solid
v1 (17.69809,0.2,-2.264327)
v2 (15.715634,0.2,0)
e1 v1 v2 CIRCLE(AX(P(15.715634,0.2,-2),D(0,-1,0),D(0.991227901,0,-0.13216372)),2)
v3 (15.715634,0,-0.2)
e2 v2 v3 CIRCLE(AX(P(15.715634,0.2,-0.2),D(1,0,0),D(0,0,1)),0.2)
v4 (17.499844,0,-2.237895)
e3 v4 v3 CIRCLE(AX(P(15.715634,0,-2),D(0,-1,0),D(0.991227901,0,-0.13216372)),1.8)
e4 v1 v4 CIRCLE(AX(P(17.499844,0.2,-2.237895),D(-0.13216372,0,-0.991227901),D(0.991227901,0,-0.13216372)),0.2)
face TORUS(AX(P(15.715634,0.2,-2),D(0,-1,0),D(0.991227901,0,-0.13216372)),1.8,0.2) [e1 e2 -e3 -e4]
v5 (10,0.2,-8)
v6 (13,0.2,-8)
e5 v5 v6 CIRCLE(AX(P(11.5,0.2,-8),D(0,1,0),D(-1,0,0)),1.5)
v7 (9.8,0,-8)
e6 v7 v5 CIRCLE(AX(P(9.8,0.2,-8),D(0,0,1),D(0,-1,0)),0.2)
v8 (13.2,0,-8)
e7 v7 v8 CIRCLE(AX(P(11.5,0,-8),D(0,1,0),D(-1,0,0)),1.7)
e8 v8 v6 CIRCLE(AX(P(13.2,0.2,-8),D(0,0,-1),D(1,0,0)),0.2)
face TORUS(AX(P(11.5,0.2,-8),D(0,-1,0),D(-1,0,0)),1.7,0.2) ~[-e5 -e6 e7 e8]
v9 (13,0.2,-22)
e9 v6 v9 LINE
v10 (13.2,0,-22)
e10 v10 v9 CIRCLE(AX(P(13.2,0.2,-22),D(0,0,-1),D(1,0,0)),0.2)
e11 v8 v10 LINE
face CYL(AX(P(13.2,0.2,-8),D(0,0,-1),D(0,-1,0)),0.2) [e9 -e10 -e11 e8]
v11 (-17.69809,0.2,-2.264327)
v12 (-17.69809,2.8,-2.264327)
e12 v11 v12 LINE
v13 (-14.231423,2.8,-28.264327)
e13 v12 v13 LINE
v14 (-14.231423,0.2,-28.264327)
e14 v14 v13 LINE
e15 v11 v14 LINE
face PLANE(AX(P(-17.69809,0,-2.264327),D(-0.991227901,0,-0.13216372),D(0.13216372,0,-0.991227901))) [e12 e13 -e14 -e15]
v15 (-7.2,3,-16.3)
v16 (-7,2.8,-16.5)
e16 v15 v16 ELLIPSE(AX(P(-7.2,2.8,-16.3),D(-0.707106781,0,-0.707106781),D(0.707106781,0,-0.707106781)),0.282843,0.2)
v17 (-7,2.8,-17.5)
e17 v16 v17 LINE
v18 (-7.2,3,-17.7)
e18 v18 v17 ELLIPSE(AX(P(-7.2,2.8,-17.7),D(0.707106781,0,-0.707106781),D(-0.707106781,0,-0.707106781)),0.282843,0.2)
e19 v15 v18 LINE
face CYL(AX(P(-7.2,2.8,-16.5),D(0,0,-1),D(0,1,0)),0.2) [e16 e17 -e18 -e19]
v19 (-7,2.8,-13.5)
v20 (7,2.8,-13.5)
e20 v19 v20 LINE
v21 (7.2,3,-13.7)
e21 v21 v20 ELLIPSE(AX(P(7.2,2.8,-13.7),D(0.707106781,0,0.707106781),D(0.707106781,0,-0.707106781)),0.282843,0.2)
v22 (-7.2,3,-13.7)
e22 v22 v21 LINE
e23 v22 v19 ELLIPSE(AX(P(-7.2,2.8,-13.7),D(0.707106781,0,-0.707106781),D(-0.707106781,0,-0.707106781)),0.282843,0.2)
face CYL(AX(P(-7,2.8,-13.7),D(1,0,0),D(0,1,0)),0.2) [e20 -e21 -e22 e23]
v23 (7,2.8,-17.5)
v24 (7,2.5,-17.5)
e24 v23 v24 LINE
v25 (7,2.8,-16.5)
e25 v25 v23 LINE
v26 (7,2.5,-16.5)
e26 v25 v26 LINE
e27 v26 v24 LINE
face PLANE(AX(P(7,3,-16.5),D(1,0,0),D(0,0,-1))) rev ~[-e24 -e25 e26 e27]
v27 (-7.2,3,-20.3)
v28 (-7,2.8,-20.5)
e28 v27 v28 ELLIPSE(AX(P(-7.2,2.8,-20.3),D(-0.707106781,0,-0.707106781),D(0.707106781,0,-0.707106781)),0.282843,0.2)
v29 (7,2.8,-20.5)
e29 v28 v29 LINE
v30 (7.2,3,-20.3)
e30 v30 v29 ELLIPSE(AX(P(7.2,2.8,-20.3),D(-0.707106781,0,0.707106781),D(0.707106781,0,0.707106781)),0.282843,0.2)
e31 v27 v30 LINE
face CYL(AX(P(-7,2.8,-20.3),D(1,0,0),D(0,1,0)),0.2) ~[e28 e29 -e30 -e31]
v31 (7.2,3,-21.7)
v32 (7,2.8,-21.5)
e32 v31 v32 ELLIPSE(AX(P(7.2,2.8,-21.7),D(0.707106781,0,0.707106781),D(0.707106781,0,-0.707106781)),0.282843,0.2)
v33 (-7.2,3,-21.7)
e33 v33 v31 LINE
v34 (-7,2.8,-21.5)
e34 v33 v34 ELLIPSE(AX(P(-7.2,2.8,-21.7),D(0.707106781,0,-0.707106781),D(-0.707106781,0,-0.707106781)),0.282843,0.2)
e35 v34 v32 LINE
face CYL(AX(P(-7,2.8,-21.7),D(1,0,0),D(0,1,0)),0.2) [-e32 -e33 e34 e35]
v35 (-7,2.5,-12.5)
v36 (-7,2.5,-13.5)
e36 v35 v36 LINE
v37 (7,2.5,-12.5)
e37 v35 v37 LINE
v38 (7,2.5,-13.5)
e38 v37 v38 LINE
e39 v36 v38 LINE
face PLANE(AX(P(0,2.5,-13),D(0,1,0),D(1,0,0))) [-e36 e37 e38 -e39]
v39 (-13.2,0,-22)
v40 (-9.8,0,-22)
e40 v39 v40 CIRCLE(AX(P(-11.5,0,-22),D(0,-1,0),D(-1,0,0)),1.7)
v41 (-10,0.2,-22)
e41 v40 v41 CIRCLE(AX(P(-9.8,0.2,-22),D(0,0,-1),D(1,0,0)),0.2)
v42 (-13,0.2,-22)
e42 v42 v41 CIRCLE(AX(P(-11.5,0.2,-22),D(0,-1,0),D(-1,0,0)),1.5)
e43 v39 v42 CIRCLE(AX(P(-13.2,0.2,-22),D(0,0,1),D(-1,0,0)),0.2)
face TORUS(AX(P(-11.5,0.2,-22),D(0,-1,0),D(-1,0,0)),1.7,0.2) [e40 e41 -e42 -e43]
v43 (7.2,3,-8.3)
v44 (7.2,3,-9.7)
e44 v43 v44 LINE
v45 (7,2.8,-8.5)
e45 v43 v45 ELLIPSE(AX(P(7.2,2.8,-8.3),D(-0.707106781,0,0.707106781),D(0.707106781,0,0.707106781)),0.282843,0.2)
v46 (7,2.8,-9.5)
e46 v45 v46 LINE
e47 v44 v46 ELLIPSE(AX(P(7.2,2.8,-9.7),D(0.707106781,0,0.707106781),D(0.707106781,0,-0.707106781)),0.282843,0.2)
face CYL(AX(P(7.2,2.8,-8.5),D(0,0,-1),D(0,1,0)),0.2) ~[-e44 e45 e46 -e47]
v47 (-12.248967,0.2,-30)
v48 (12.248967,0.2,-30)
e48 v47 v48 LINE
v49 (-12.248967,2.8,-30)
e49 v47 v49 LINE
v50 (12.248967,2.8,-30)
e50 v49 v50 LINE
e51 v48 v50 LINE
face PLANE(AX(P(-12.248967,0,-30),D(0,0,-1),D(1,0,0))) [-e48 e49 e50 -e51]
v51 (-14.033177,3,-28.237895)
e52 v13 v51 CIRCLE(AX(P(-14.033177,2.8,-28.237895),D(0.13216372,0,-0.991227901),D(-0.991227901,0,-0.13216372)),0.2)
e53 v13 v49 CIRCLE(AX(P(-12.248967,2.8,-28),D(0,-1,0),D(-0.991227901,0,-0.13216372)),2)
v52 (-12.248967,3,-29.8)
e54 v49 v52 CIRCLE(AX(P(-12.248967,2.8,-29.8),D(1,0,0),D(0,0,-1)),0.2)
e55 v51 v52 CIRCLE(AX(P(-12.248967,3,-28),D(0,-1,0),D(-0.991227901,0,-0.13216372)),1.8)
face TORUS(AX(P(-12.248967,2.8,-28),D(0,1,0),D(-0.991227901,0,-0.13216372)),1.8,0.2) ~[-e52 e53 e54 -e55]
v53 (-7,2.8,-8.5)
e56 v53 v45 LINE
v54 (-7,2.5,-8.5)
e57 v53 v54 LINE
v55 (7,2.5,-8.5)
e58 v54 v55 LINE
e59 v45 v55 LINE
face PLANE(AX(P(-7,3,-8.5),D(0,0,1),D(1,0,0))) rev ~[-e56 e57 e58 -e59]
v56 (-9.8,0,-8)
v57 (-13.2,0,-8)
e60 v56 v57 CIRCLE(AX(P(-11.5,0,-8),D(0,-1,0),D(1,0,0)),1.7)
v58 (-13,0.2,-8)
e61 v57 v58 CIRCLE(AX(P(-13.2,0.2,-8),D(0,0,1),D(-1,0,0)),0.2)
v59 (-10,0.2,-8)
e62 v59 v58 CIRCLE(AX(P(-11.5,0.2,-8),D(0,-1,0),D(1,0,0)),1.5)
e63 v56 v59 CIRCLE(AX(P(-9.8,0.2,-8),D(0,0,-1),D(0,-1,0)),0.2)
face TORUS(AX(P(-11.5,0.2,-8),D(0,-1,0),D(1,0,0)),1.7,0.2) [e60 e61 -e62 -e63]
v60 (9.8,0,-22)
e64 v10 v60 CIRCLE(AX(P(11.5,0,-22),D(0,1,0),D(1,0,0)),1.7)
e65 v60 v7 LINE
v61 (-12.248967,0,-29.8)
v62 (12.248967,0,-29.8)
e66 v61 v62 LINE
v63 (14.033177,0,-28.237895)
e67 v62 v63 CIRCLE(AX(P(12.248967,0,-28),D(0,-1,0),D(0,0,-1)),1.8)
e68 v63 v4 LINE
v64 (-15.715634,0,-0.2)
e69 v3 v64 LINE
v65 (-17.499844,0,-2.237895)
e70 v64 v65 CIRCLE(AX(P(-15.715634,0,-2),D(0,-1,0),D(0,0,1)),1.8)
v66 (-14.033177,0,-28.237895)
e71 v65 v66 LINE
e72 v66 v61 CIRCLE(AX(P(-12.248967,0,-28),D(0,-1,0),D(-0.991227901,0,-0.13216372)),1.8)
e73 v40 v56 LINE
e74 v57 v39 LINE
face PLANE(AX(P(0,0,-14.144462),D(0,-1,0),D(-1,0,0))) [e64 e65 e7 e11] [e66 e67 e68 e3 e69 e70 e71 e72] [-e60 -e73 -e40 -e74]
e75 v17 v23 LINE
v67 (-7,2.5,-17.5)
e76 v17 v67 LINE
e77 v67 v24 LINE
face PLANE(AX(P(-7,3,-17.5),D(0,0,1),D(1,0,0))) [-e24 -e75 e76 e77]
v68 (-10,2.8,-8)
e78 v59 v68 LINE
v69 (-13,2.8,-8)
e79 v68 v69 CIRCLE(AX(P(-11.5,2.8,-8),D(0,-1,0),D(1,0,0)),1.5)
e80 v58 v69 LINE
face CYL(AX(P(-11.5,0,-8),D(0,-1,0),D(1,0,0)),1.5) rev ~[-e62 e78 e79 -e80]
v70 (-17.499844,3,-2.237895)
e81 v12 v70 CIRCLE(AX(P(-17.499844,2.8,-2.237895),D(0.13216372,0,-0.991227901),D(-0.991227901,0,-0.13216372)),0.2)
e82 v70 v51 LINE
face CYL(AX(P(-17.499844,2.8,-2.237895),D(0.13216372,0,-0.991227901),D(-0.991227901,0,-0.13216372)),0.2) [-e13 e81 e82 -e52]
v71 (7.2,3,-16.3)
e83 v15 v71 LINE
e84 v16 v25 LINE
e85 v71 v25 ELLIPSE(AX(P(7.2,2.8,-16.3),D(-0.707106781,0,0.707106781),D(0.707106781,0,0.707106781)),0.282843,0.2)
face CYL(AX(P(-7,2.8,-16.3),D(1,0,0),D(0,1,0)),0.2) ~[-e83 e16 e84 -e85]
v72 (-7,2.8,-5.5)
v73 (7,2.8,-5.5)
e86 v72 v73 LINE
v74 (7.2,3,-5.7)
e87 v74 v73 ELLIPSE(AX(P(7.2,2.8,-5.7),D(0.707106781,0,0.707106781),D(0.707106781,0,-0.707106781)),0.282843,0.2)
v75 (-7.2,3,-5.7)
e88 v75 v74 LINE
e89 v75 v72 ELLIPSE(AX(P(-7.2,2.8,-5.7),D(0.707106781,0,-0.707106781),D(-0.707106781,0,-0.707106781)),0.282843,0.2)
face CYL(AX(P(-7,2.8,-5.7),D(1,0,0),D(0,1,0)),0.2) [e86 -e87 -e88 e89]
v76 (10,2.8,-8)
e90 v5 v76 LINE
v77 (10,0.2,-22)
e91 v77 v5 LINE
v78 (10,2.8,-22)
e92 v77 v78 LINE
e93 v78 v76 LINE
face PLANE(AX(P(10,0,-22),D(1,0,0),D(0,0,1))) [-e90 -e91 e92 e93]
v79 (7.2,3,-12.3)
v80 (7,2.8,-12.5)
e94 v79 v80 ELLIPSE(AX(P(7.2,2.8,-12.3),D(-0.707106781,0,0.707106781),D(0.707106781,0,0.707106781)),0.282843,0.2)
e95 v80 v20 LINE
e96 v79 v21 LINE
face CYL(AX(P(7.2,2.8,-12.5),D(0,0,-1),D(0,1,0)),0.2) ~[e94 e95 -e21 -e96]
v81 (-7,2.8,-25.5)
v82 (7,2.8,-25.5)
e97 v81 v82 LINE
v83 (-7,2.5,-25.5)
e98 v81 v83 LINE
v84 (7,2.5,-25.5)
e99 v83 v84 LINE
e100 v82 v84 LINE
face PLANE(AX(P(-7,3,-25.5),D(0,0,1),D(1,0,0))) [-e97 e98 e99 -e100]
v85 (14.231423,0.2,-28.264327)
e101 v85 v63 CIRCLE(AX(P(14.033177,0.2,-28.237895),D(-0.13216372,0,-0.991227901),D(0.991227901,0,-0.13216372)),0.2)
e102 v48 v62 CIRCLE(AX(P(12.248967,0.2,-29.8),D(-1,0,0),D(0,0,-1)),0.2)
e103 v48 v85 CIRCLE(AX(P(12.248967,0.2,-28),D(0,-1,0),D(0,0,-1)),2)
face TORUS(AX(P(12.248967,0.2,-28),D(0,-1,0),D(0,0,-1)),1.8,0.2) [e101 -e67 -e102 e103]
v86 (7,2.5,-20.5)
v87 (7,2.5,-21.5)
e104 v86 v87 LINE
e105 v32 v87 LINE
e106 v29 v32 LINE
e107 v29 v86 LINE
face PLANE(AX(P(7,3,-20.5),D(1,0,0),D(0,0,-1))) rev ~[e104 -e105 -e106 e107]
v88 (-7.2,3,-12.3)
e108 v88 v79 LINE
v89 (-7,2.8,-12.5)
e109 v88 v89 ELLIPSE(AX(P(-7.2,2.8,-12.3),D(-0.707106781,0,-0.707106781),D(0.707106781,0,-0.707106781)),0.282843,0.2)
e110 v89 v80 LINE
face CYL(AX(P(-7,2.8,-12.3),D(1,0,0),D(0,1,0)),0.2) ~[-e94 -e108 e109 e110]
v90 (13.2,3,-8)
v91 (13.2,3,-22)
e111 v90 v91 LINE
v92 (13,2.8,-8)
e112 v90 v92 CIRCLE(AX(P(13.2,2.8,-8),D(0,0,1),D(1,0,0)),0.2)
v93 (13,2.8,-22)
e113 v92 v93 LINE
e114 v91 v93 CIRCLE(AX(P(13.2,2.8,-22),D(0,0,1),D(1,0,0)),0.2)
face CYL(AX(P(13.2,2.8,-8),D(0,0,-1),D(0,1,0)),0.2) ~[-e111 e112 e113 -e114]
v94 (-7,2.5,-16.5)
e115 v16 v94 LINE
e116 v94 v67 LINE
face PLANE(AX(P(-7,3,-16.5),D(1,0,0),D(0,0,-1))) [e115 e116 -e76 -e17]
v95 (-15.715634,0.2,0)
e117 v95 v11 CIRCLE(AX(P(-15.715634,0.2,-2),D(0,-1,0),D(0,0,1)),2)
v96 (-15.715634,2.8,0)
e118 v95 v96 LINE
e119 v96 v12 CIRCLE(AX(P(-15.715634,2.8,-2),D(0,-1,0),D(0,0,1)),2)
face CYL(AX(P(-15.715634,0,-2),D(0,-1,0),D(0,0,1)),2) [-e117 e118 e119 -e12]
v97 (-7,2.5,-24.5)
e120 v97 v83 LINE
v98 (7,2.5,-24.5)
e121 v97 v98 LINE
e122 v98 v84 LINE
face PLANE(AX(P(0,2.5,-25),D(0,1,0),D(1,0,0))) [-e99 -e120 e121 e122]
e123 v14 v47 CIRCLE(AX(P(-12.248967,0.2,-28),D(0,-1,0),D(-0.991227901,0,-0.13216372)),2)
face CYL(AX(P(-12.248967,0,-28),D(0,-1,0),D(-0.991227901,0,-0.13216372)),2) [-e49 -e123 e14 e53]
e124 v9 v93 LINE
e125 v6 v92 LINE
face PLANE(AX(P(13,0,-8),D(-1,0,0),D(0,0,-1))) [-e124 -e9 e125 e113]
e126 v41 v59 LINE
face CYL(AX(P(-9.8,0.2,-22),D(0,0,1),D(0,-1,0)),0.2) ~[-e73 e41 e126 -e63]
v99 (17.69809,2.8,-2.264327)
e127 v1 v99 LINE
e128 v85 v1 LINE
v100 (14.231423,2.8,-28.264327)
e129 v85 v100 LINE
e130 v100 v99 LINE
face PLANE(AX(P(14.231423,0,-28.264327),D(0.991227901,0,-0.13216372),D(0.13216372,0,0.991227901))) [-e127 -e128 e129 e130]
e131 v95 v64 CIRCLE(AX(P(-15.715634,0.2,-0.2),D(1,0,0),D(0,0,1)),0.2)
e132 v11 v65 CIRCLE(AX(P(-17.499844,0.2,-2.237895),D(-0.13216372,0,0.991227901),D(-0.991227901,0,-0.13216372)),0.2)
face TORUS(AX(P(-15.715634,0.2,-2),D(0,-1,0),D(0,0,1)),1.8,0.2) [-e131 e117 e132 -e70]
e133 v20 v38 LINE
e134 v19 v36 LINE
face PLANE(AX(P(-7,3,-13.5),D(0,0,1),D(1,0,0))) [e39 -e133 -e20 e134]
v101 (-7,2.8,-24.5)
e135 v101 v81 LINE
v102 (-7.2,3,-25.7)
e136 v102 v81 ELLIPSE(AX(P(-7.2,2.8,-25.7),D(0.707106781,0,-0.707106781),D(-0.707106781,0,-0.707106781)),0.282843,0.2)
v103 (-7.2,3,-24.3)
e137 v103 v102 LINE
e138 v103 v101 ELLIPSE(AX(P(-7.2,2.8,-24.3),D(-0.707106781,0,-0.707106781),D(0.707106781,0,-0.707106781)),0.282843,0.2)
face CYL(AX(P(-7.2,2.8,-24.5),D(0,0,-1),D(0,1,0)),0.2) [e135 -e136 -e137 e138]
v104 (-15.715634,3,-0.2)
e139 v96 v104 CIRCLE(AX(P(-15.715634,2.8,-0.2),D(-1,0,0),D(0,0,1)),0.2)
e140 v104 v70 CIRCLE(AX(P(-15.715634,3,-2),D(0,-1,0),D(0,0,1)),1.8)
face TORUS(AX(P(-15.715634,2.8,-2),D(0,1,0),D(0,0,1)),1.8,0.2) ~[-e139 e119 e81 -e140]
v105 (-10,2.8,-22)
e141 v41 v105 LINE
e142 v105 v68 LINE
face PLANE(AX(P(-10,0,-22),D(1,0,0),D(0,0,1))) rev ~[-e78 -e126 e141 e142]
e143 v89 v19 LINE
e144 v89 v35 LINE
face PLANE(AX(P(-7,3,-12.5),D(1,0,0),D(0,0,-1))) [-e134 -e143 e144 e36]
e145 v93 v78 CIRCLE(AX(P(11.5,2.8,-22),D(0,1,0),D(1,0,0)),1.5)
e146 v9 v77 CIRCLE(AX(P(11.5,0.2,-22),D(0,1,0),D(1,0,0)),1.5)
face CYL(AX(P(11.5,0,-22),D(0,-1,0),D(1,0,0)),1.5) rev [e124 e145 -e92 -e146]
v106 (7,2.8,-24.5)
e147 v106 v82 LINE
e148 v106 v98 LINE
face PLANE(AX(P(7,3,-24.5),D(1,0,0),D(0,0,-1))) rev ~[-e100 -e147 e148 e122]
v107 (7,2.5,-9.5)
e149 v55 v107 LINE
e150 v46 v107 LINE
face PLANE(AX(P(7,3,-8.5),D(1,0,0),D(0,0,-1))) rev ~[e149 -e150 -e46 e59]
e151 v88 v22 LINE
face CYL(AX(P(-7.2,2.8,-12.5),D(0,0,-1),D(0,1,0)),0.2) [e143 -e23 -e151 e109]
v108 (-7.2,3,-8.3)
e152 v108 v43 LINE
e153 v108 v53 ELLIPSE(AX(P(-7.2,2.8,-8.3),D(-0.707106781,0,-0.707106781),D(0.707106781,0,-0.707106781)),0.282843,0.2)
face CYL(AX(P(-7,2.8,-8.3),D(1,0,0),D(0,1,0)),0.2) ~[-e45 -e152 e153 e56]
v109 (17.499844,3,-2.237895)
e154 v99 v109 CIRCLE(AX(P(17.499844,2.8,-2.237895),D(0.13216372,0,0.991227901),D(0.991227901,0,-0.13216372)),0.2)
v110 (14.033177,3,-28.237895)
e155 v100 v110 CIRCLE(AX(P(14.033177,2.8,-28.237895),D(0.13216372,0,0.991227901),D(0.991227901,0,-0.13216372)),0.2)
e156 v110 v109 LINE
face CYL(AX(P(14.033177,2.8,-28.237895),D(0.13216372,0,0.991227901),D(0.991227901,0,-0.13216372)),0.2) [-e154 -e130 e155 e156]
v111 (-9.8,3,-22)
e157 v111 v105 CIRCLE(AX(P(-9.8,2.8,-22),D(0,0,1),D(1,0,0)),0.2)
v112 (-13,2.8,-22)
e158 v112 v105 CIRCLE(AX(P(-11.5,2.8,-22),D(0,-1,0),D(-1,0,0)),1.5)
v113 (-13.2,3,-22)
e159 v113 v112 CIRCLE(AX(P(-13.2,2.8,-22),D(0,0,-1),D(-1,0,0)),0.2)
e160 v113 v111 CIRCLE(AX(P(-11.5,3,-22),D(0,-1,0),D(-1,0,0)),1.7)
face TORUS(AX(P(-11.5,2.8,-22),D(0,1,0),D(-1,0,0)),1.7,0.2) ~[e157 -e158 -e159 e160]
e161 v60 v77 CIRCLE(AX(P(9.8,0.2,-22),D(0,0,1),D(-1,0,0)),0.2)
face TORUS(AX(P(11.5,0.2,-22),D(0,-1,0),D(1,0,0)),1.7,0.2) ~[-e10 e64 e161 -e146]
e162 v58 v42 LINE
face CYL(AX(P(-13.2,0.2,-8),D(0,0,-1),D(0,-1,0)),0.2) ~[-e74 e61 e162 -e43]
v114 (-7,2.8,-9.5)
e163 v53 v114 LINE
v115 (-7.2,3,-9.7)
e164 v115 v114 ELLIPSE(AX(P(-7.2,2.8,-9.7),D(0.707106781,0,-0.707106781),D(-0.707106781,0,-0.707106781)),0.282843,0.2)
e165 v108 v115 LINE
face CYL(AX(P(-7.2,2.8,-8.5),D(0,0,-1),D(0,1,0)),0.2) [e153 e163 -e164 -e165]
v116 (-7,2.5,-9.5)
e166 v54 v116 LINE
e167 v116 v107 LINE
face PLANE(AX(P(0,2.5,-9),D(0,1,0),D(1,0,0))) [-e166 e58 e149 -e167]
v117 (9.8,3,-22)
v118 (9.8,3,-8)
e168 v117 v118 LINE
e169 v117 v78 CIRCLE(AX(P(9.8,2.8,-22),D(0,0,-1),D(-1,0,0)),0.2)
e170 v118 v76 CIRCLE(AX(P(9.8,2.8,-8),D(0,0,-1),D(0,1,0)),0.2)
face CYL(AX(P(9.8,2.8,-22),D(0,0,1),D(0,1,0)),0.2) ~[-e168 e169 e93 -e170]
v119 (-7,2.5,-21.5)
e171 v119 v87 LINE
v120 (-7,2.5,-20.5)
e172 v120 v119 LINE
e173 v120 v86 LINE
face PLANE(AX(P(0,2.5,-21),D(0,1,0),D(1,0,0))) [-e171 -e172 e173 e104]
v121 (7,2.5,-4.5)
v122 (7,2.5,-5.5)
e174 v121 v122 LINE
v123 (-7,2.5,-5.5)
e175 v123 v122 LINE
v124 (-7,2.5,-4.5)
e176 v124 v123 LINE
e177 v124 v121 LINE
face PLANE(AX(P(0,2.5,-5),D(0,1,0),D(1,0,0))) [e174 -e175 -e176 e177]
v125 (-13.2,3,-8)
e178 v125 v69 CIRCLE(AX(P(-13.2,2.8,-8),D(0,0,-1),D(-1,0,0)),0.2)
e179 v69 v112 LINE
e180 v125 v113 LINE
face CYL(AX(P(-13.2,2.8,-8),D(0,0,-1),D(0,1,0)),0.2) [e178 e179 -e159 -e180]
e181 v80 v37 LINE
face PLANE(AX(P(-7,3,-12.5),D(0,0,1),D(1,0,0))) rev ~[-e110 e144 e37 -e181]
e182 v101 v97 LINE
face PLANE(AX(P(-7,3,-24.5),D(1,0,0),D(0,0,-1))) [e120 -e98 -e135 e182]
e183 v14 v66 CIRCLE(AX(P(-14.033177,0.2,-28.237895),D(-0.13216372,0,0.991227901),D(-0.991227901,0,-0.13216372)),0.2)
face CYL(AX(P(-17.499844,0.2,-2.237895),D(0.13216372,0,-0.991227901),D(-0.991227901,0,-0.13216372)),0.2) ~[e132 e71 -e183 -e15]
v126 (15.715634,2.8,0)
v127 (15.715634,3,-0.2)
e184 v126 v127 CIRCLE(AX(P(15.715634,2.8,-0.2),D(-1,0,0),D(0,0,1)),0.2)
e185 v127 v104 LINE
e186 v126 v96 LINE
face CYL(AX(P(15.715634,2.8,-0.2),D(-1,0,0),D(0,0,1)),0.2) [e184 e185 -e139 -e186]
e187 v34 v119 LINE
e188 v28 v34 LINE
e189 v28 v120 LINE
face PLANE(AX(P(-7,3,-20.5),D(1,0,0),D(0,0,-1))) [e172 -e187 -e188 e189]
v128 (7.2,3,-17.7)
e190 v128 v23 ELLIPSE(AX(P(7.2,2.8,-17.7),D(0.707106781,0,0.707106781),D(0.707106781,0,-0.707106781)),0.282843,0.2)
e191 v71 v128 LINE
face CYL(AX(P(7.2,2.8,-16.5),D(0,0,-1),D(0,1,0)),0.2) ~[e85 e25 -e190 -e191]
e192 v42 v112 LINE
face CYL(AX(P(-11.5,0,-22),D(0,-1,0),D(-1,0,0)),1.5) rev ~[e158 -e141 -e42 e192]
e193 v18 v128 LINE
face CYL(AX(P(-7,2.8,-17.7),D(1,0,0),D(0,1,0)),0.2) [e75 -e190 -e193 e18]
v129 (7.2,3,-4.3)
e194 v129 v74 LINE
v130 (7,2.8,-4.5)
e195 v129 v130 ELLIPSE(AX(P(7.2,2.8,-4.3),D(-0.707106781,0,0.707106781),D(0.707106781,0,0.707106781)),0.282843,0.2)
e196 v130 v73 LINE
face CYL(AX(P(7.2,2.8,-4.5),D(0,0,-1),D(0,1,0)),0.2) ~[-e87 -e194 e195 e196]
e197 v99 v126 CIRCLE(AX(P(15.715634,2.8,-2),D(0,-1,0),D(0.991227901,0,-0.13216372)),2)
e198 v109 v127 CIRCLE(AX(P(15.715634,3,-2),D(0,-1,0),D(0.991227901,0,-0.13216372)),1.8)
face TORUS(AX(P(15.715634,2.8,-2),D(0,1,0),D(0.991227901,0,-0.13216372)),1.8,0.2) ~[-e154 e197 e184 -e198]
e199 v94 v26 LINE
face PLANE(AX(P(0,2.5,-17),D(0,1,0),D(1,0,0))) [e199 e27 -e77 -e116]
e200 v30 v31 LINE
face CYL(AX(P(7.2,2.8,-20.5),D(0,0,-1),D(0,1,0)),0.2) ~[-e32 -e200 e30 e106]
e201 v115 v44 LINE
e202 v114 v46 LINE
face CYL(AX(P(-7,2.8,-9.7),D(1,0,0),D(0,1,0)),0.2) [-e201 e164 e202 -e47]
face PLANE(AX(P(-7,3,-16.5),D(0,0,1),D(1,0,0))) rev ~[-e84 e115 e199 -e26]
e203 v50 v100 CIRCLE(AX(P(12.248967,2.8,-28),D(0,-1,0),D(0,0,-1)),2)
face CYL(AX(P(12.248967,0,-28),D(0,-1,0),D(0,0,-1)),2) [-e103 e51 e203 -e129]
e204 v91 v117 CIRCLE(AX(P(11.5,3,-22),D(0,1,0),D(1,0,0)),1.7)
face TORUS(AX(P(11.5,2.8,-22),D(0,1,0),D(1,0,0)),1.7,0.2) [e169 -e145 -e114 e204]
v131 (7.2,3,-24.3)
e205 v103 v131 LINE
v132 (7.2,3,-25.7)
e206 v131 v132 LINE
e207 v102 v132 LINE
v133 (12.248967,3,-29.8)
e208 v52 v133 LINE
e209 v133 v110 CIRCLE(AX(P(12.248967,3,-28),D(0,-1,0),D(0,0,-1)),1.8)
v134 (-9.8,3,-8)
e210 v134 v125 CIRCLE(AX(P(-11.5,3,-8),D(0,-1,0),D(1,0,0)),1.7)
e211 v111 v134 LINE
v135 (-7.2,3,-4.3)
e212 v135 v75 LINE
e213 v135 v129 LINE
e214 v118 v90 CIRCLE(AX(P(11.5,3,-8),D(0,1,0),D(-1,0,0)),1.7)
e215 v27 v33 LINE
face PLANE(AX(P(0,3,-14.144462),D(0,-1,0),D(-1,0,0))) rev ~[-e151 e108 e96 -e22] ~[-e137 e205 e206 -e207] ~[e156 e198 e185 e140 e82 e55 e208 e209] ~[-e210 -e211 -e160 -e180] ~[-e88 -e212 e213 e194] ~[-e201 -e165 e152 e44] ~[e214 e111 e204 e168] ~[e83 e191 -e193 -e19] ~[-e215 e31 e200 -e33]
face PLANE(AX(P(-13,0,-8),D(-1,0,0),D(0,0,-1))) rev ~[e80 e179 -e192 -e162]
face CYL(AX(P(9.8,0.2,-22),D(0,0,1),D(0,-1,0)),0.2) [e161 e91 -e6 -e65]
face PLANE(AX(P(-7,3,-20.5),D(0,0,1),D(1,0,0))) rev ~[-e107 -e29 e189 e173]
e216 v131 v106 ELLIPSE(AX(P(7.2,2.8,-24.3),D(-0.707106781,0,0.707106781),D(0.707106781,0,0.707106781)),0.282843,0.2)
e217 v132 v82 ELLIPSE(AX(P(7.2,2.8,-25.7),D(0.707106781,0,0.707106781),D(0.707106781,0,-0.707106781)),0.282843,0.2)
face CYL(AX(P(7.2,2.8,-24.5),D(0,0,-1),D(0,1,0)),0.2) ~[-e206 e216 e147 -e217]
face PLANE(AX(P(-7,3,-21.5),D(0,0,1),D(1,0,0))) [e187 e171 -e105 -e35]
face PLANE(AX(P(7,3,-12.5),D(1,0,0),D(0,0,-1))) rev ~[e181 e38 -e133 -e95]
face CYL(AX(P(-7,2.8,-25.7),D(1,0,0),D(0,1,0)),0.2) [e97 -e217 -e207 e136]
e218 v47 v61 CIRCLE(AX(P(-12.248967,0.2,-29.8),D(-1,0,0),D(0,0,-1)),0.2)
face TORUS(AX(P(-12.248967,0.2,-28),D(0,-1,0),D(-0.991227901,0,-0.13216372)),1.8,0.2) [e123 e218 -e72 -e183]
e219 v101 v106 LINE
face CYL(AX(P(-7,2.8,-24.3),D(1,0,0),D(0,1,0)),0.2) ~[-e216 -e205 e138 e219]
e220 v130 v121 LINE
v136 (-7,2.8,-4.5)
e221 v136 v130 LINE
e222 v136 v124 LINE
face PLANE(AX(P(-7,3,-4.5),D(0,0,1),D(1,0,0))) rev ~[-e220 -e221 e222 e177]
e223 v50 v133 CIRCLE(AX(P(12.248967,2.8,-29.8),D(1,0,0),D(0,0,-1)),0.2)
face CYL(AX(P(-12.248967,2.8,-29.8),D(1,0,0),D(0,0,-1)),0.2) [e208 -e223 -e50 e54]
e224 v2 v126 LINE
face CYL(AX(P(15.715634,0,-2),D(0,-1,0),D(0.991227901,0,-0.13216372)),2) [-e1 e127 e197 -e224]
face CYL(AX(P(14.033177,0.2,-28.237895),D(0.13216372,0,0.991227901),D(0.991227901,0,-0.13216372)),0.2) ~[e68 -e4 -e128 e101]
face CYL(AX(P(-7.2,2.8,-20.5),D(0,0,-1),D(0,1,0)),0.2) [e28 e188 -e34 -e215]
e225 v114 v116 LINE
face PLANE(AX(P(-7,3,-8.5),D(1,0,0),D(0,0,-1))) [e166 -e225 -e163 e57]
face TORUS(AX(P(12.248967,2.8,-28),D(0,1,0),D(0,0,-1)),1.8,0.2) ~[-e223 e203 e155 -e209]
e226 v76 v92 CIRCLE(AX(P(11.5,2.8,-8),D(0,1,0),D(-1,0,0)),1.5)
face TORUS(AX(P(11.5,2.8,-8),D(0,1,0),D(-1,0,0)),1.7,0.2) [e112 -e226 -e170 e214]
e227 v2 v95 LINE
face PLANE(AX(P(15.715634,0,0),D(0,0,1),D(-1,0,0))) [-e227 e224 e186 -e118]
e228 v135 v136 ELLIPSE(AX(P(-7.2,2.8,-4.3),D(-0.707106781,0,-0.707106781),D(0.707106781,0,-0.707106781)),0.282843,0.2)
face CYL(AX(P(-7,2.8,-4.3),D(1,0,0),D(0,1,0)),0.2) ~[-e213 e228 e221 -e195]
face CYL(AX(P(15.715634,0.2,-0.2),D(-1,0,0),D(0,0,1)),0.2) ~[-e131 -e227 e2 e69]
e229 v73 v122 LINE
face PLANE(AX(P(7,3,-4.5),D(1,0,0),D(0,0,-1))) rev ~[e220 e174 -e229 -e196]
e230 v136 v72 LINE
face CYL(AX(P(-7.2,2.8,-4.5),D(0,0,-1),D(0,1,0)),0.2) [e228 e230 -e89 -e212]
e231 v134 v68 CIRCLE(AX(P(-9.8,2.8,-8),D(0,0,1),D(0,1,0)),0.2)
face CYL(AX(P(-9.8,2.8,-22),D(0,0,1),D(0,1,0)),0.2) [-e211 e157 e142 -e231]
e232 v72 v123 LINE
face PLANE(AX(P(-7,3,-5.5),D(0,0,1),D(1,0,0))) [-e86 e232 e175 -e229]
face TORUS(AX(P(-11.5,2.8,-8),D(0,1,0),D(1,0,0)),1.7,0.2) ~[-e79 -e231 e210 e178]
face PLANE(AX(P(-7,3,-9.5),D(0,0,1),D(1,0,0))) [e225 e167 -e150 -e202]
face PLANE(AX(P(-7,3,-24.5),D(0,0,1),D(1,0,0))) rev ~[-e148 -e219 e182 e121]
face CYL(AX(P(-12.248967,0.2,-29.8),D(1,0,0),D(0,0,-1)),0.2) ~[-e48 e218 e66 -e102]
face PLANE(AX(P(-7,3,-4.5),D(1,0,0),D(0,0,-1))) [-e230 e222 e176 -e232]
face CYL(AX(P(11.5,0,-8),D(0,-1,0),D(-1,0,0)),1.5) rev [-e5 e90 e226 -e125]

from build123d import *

# Parameters (mm, degrees)
BOSS_EXTRUDE1_DEPTH = 3
SKETCH2_W           = 14
SKETCH2_H           = 1
CUT_EXTRUDE1_DEPTH  = 0.5
FILLET1_R           = 0.2


with BuildPart() as part:
    # Sketch1 → Boss-Extrude1 (new body)
    with BuildSketch(Plane(origin=(0, 0, 0), x_dir=(1, 0, 0), z_dir=(0, 1, 0))):
        with BuildLine():
            Line((15.715633873, 0), (-15.715633873, 0))
            ThreePointArc((-15.715633873, 0), (-17.220402108, 0.682550737), (-17.698089675, 2.26432744))
            Line((-17.698089675, 2.26432744), (-14.231423008, 28.26432744))
            ThreePointArc((-14.231423008, 28.26432744), (-13.566416469, 29.504768235), (-12.248967207, 30))
            Line((-12.248967207, 30), (12.248967207, 30))
            ThreePointArc((12.248967207, 30), (13.566416469, 29.504768235), (14.231423008, 28.26432744))
            Line((14.231423008, 28.26432744), (17.698089675, 2.26432744))
            ThreePointArc((17.698089675, 2.26432744), (17.220402108, 0.682550737), (15.715633873, 0))
        make_face()
        with BuildLine():
            Line((-10, 22), (-10, 8))
            ThreePointArc((-10, 8), (-11.5, 6.5), (-13, 8))
            Line((-13, 8), (-13, 22))
            ThreePointArc((-13, 22), (-11.5, 23.5), (-10, 22))
        make_face(mode=Mode.SUBTRACT)
        with BuildLine():
            Line((10, 22), (10, 8))
            ThreePointArc((10, 8), (11.5, 6.5), (13, 8))
            Line((13, 8), (13, 22))
            ThreePointArc((13, 22), (11.5, 23.5), (10, 22))
        make_face(mode=Mode.SUBTRACT)
    extrude(amount=BOSS_EXTRUDE1_DEPTH)

    # Sketch2 → Cut-Extrude1 (cut)
    with BuildSketch(Plane(origin=(0, 3, 0), x_dir=(1, 0, 0), z_dir=(0, 1, 0))):
        with Locations((0, 5)):
            Rectangle(SKETCH2_W, SKETCH2_H)
        with Locations((0, 9)):
            Rectangle(SKETCH2_W, SKETCH2_H)
        with Locations((0, 13)):
            Rectangle(SKETCH2_W, SKETCH2_H)
        with Locations((0, 17)):
            Rectangle(SKETCH2_W, SKETCH2_H)
        with Locations((0, 21)):
            Rectangle(SKETCH2_W, SKETCH2_H)
        with Locations((0, 25)):
            Rectangle(SKETCH2_W, SKETCH2_H)
    extrude(amount=-CUT_EXTRUDE1_DEPTH, mode=Mode.SUBTRACT)

    # Fillet1
    fillet1_edges = [part.edges().sort_by_distance(p)[0] for p in [
        (17.220402108, 3, -0.682550737),
        (-7, 3, -21),
        (0, 3, -20.5),
        (7, 3, -21),
        (0, 0, 0),
        (0, 3, -21.5),
        (-17.220402108, 0, -0.682550737),
        (-7, 3, -25),
        (0, 3, -24.5),
        (7, 3, -25),
        (0, 3, -25.5),
        (15.964756341, 3, -15.26432744),
        (13.566416469, 3, -29.504768235),
        (0, 3, -30),
        (-13.566416469, 3, -29.504768235),
        (-11.5, 0, -23.5),
        (-13, 0, -15),
        (-11.5, 0, -6.5),
        (-10, 0, -15),
        (-15.964756341, 3, -15.26432744),
        (-11.5, 3, -23.5),
        (-13, 3, -15),
        (-11.5, 3, -6.5),
        (-10, 3, -15),
        (11.5, 0, -23.5),
        (10, 0, -15),
        (11.5, 0, -6.5),
        (13, 0, -15),
        (11.5, 3, -23.5),
        (10, 3, -15),
        (11.5, 3, -6.5),
        (13, 3, -15),
        (-17.220402108, 3, -0.682550737),
        (-7, 3, -5),
        (0, 3, -4.5),
        (7, 3, -5),
        (0, 3, -5.5),
        (-7, 3, -9),
        (0, 3, -8.5),
        (7, 3, -9),
        (0, 3, -9.5),
        (0, 3, 0),
        (-15.964756341, 0, -15.26432744),
        (-7, 3, -13),
        (0, 3, -12.5),
        (7, 3, -13),
        (0, 3, -13.5),
        (-13.566416469, 0, -29.504768235),
        (0, 0, -30),
        (13.566416469, 0, -29.504768235),
        (-7, 3, -17),
        (0, 3, -16.5),
        (7, 3, -17),
        (0, 3, -17.5),
        (15.964756341, 0, -15.26432744),
        (17.220402108, 0, -0.682550737),
    ]]
    fillet(fillet1_edges, radius=FILLET1_R)


solid = part.part
